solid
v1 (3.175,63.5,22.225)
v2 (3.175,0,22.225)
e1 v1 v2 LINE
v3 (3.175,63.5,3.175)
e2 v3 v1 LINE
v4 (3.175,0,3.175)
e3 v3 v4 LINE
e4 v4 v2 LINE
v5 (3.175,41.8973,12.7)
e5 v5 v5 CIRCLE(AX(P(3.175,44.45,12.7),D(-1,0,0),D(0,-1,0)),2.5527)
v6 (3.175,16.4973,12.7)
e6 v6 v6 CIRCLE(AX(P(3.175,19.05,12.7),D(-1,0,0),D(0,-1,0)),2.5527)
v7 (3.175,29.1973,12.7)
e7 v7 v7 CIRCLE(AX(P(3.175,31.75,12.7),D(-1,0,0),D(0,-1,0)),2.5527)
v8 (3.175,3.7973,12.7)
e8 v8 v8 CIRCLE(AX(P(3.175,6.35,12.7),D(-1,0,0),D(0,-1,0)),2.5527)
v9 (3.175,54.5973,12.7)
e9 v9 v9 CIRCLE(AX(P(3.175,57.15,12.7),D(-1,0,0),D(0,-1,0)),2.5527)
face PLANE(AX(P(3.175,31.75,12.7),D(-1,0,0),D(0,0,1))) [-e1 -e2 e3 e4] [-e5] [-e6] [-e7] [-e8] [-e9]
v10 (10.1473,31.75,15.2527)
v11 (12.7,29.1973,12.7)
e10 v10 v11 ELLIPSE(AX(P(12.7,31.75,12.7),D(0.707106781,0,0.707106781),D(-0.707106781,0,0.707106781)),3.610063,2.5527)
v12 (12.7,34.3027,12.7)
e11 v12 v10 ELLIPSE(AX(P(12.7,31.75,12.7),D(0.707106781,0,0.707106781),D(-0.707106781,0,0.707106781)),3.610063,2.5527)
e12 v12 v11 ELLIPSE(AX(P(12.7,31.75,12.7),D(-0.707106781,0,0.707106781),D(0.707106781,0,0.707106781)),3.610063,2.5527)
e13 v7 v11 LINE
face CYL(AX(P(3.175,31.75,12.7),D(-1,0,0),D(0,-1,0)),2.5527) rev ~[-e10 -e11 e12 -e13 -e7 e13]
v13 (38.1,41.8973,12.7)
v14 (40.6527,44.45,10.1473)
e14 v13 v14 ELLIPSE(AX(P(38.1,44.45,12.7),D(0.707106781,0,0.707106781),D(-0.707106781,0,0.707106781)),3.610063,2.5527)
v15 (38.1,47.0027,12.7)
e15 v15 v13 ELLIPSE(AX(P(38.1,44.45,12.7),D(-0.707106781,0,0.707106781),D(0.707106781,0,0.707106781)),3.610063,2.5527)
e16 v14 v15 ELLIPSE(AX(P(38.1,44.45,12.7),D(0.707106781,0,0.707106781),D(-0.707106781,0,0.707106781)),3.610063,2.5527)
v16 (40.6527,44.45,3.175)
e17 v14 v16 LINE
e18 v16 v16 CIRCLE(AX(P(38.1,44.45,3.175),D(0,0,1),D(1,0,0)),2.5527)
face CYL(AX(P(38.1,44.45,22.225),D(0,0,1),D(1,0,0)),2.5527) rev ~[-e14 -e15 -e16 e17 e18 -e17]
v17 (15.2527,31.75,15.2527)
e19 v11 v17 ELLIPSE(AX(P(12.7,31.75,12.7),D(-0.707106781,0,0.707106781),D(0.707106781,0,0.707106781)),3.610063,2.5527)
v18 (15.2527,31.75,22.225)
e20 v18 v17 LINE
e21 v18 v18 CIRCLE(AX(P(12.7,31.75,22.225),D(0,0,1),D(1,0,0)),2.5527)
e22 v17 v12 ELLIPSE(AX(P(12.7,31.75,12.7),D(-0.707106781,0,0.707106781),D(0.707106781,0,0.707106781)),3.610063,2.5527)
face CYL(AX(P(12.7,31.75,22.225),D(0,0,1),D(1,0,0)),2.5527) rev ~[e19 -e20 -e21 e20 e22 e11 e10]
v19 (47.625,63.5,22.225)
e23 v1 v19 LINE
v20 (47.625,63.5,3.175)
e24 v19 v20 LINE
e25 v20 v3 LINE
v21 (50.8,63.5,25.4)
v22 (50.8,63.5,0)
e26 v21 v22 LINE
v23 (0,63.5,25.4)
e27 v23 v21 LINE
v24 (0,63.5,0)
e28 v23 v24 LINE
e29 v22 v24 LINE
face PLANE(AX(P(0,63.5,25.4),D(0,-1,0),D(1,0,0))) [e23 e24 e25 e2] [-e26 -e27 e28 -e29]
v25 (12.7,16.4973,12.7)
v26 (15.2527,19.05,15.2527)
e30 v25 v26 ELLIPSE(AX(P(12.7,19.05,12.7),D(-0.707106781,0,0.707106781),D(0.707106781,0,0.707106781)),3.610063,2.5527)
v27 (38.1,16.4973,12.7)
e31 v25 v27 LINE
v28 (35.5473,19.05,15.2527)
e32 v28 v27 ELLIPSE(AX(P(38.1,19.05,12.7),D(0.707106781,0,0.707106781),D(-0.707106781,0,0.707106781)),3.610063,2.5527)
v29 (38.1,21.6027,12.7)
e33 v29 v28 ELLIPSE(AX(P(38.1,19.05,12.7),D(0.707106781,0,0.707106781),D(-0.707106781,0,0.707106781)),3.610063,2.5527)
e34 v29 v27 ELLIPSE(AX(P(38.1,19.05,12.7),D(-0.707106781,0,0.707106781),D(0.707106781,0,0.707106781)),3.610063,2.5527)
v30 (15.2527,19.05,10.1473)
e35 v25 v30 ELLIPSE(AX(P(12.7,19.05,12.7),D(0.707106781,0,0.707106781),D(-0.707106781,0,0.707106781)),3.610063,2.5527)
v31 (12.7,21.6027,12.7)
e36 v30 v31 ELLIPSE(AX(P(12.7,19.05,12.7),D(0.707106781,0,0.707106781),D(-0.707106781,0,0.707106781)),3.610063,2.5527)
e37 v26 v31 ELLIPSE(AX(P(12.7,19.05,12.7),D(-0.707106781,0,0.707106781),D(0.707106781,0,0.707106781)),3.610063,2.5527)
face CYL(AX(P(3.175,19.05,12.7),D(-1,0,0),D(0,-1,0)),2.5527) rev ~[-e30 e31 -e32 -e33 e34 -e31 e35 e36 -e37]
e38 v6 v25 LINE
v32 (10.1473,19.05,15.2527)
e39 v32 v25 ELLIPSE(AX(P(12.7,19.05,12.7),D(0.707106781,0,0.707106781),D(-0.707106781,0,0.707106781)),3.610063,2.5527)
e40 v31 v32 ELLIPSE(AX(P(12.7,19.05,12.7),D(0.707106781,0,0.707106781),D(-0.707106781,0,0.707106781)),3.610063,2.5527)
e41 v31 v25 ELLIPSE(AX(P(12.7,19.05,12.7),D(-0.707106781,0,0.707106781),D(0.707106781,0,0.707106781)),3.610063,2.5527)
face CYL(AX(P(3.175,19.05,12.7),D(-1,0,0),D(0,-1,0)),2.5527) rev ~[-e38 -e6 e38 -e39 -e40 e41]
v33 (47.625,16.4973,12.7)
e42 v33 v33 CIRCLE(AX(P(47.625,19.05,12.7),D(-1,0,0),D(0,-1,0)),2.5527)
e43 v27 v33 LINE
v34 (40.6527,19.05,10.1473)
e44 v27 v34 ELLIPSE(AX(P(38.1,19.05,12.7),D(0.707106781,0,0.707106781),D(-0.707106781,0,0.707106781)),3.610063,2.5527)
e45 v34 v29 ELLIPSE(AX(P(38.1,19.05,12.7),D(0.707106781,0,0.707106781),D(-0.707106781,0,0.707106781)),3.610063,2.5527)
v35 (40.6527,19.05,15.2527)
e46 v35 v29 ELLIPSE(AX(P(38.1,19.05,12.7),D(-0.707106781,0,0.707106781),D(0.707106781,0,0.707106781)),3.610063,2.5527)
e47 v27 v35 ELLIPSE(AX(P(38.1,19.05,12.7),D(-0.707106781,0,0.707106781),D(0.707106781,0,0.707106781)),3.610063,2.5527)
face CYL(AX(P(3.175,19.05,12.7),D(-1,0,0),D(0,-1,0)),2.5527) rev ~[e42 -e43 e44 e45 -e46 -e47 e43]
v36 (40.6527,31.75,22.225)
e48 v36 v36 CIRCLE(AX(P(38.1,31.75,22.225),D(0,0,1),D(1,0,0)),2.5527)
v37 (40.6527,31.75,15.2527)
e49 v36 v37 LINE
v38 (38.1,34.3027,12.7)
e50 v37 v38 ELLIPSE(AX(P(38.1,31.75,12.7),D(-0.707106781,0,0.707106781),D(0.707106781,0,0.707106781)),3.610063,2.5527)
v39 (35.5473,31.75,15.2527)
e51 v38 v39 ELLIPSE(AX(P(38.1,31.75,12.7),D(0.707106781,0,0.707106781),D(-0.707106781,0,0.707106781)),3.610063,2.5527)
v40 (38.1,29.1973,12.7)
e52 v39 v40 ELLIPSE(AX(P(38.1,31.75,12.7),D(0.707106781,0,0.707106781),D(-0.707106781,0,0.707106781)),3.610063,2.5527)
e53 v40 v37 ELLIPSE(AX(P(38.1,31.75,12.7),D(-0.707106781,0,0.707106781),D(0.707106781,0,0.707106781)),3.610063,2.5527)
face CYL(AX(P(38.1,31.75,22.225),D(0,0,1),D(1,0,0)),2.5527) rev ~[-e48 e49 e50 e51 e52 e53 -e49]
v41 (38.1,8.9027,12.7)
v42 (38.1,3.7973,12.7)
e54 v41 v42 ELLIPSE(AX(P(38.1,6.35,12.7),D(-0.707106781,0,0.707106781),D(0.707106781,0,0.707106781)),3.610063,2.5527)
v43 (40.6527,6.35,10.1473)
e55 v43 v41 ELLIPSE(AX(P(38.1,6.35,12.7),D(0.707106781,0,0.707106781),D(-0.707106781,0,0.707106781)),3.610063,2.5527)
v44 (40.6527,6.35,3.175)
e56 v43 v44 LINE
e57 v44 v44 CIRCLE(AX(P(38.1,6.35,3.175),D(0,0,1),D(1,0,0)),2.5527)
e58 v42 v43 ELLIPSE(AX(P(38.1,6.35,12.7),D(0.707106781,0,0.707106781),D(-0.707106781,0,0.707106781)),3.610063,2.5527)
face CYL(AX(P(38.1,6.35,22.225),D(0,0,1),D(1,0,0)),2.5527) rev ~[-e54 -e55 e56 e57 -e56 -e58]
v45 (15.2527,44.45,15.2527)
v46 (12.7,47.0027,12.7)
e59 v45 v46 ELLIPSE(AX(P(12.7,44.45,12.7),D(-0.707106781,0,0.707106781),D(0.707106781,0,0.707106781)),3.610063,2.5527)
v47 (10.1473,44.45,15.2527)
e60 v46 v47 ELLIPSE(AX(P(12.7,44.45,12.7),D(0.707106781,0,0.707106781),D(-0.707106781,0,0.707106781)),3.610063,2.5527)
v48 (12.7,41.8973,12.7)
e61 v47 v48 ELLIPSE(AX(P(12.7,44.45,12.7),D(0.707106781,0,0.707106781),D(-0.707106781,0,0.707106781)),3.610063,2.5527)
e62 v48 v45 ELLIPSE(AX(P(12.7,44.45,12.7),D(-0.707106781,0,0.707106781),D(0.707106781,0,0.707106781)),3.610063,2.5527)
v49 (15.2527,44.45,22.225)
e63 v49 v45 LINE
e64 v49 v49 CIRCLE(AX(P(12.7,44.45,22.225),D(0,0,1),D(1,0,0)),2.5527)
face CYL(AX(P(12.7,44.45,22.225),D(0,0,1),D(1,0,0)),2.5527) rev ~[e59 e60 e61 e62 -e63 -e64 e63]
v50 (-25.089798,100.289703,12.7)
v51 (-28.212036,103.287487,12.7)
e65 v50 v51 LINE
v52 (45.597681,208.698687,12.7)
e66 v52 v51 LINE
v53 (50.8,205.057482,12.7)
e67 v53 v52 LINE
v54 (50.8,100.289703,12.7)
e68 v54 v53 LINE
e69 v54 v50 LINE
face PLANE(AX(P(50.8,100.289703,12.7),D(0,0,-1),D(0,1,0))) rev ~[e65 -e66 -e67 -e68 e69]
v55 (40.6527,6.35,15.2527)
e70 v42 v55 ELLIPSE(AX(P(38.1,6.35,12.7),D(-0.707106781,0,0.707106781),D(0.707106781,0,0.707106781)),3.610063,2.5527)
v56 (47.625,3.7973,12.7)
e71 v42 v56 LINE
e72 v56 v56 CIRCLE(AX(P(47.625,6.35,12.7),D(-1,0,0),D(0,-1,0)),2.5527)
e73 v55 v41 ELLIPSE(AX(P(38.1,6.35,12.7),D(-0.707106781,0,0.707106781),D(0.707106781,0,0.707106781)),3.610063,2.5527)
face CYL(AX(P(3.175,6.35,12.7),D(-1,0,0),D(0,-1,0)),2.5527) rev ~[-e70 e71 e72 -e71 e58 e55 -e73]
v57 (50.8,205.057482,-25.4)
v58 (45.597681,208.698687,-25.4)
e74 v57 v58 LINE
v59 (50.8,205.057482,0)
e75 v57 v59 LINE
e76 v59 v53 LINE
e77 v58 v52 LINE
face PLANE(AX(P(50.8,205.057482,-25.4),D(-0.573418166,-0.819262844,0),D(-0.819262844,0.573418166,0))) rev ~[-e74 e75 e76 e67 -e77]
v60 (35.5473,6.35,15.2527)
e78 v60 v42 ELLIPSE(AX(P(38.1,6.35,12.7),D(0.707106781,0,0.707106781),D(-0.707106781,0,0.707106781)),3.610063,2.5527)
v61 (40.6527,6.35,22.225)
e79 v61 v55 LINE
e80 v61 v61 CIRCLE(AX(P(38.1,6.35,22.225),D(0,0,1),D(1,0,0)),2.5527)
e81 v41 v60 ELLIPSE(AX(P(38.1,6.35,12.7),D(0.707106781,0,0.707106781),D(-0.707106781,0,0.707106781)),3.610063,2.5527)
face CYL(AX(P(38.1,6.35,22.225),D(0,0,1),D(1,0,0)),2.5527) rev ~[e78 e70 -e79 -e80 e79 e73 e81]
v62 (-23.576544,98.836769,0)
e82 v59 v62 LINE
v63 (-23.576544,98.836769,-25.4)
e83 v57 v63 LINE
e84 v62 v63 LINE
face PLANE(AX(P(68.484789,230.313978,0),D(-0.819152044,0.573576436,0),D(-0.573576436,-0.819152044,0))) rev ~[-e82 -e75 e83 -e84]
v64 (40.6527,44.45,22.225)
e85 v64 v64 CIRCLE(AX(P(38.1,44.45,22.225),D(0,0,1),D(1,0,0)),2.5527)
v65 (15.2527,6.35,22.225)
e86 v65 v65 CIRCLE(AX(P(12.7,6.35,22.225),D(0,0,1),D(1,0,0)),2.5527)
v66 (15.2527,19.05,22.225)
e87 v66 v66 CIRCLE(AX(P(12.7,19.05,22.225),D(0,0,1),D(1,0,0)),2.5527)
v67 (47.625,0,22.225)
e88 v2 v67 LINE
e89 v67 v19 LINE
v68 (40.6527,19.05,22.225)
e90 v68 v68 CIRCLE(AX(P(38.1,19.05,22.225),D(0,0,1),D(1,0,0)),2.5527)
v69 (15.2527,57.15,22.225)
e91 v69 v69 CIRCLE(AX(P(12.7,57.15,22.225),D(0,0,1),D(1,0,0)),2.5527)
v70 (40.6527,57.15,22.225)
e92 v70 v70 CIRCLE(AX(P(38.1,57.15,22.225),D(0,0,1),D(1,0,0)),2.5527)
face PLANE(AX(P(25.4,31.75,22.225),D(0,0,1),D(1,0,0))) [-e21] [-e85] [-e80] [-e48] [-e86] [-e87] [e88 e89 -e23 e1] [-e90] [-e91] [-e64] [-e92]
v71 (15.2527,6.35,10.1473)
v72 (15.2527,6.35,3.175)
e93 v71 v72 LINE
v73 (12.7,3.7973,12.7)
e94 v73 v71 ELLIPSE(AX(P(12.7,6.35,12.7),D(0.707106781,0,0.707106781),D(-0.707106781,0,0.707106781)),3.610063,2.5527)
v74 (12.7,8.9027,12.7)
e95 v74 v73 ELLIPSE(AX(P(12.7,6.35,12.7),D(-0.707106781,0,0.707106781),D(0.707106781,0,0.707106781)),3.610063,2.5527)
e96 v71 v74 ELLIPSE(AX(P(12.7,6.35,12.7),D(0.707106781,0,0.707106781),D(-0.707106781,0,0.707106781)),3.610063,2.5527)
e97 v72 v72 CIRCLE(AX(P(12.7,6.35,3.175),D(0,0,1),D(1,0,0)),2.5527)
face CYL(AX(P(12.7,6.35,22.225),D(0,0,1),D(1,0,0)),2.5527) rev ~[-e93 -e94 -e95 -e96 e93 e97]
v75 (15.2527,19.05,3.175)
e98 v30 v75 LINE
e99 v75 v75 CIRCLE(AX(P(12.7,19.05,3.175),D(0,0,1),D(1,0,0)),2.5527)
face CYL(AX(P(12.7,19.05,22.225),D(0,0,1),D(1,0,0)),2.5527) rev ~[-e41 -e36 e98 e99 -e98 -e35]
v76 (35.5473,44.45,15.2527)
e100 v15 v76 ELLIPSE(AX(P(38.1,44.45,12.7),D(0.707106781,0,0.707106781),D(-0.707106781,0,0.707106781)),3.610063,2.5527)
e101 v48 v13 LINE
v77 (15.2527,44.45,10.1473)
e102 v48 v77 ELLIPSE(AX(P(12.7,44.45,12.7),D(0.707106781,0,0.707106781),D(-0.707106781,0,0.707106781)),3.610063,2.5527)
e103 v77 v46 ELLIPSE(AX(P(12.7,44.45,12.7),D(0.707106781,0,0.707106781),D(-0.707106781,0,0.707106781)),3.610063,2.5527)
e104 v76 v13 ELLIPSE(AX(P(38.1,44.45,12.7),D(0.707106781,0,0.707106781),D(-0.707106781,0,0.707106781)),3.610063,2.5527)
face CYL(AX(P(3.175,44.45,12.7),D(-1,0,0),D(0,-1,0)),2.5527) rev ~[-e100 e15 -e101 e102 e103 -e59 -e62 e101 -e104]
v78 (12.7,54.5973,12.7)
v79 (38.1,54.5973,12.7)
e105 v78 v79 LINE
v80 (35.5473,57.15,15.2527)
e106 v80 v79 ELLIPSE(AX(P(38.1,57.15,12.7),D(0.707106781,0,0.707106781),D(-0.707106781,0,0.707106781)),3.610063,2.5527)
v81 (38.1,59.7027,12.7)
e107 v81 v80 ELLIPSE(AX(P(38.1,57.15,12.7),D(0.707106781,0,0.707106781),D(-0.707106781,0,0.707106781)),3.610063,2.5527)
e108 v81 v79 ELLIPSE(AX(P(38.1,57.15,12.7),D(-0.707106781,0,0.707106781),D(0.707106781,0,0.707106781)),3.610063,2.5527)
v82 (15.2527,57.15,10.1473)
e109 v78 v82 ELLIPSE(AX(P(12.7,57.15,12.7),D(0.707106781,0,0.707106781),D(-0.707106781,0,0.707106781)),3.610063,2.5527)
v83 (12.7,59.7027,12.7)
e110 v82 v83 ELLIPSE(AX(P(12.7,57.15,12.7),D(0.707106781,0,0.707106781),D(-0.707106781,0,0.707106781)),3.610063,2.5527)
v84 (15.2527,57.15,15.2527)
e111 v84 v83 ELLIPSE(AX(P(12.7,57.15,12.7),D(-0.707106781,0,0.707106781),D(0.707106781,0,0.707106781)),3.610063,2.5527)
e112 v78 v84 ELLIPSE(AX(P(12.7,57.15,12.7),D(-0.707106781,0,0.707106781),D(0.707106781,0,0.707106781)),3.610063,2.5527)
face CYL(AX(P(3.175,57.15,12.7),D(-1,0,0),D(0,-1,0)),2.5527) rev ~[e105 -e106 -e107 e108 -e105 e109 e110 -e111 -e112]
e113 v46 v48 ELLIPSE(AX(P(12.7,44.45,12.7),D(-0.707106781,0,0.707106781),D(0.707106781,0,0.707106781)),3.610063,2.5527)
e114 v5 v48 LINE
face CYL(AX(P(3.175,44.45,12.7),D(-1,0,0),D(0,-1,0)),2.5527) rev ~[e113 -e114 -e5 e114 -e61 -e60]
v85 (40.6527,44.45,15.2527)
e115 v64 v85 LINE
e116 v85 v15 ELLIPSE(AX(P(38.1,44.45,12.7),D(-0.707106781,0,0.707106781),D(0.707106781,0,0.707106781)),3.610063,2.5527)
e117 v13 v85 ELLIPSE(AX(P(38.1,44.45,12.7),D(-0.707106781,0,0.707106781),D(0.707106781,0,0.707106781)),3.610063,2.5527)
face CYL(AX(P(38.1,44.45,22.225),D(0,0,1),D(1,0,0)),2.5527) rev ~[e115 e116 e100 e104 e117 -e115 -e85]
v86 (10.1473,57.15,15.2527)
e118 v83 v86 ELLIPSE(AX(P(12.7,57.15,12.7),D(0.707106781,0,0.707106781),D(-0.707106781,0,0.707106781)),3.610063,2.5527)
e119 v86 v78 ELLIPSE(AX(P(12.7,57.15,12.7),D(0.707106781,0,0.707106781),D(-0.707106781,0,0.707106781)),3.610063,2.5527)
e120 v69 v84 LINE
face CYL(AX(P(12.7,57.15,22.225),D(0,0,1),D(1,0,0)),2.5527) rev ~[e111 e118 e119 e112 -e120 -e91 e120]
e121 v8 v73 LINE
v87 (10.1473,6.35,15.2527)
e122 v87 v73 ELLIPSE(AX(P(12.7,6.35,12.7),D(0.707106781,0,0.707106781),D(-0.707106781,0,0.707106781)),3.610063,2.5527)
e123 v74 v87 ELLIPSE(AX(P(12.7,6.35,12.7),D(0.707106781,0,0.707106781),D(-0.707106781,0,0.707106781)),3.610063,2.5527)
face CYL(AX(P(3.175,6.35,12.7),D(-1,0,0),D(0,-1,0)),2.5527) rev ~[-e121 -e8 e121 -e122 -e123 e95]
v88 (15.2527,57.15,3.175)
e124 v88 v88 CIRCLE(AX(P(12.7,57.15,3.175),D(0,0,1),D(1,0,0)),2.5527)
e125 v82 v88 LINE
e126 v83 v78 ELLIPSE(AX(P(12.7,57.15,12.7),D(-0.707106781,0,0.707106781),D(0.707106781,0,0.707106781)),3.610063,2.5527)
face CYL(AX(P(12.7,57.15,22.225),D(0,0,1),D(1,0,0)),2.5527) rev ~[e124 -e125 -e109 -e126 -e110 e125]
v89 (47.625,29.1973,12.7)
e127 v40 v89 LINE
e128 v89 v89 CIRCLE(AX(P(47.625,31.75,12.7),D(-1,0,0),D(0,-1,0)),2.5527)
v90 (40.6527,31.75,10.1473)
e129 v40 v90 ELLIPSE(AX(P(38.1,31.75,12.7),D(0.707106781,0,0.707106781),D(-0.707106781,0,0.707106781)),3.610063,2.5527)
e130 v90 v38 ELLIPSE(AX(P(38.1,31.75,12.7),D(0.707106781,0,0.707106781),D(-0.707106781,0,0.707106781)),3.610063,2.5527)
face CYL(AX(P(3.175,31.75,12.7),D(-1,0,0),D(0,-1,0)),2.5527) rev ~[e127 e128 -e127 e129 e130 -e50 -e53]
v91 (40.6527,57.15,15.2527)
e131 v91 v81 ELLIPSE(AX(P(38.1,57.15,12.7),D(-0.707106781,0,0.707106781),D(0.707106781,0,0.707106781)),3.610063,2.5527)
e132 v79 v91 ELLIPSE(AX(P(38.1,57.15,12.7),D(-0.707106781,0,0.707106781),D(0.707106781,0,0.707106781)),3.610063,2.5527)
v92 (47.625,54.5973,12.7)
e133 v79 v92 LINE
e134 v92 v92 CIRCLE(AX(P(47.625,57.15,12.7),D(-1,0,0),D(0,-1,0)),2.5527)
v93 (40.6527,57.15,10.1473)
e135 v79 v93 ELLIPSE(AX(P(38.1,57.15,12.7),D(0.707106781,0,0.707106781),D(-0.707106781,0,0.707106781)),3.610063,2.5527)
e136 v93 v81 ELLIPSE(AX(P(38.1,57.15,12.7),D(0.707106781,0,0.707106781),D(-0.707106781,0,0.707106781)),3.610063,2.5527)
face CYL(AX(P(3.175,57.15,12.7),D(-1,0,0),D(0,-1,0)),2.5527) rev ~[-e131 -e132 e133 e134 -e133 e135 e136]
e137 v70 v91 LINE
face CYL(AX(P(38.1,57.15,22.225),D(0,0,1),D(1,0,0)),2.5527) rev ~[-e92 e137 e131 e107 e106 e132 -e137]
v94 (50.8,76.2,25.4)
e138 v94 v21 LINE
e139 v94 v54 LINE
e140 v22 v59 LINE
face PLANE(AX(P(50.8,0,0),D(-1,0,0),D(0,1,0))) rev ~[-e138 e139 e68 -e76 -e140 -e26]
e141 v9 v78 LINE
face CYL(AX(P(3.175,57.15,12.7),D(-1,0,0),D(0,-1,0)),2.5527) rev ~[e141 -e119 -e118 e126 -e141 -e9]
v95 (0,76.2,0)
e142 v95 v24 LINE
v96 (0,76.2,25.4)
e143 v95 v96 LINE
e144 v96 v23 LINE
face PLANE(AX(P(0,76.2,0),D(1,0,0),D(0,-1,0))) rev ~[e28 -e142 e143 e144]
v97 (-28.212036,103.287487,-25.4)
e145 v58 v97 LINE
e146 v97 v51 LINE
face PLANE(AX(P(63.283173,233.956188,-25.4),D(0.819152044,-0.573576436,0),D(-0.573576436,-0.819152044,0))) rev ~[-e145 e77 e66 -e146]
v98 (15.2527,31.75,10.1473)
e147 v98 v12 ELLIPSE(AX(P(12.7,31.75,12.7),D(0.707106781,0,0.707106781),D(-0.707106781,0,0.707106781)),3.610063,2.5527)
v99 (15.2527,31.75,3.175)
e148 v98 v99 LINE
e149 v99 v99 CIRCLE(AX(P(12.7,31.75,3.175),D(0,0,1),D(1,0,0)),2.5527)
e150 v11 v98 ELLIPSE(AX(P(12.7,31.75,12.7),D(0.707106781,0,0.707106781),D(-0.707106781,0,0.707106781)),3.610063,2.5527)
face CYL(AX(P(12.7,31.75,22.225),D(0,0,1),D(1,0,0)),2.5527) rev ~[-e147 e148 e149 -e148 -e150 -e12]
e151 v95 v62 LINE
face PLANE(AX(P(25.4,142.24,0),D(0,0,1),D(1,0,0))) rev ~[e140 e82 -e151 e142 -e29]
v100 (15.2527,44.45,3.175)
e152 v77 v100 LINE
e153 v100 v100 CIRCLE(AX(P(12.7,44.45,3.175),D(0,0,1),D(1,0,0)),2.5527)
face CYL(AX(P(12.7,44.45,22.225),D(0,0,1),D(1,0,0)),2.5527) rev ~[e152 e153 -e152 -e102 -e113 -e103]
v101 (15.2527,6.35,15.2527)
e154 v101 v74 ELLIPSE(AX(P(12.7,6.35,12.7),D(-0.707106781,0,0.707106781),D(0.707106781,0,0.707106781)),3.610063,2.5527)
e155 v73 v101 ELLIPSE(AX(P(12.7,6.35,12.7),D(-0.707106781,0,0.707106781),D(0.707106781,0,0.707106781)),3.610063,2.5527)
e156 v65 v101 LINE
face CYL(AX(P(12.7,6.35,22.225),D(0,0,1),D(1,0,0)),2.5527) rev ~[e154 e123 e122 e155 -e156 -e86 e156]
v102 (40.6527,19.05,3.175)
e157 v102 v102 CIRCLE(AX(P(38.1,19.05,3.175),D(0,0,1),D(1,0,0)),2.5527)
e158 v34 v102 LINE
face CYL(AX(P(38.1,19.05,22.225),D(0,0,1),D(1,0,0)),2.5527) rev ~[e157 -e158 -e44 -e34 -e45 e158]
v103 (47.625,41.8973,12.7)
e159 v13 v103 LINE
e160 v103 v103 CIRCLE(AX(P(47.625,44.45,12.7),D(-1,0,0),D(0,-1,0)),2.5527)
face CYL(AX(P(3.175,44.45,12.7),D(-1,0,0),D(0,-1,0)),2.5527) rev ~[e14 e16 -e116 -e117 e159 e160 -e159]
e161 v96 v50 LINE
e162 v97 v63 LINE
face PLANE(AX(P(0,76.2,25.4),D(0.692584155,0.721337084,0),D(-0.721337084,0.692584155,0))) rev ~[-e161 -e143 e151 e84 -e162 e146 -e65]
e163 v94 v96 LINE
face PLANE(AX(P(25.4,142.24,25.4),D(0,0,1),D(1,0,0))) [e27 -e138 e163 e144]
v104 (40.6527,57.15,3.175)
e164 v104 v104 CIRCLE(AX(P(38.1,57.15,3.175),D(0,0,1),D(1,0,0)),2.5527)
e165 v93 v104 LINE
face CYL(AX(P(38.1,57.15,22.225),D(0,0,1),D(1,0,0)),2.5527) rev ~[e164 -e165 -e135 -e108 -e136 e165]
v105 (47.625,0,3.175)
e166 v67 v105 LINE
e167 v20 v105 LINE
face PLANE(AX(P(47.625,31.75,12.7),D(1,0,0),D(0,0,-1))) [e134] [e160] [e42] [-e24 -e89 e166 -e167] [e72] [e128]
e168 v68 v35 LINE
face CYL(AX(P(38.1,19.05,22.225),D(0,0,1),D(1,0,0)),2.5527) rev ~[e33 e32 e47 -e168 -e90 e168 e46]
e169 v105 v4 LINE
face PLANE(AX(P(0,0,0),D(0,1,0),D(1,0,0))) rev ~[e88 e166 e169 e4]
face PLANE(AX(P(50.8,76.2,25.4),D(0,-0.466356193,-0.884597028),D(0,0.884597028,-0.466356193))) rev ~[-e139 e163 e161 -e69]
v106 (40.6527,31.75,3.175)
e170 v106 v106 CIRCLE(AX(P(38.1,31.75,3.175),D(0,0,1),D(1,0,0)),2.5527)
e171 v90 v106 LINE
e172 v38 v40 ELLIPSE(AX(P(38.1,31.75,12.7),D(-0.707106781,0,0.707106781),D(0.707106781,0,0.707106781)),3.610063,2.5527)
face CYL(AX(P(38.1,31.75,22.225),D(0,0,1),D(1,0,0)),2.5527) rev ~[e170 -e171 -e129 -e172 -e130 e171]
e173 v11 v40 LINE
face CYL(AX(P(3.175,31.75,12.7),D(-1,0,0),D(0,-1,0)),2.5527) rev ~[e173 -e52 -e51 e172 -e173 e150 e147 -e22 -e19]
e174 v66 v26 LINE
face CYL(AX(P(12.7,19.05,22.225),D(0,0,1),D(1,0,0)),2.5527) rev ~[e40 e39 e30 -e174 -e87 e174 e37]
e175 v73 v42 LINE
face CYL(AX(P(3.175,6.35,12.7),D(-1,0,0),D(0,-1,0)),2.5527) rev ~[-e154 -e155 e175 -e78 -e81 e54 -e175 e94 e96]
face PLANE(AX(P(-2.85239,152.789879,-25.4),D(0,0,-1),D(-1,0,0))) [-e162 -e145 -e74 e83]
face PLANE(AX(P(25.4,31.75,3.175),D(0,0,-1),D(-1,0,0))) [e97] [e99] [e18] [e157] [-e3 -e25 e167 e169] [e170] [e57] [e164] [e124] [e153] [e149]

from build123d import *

# Parameters (mm, degrees)
BOSS_EXTRUDE1_DEPTH = 25.4
SKETCH3_W           = 50.8
SKETCH3_H           = 63.5
CUT_EXTRUDE1_DEPTH  = 3.175
SKETCH4_W           = 25.4
SKETCH4_H           = 63.5
CUT_EXTRUDE2_DEPTH  = 3.175
SKETCH5_W           = 50.8
SKETCH5_H           = 63.5
CUT_EXTRUDE3_DEPTH  = 3.175
SKETCH6_W           = 25.4
SKETCH6_H           = 63.5
CUT_EXTRUDE4_DEPTH  = 3.175
SKETCH7_W           = 101.6
SKETCH7_H           = 177.8
CUT_EXTRUDE5_DEPTH  = 298.299377732
CUT_EXTRUDE7_DEPTH  = 275.74300719
CUT_EXTRUDE6_DEPTH  = 275.74300719
CUT_EXTRUDE8_DEPTH  = 271.614582269
SKETCH11_R          = 2.5527
CUT_EXTRUDE9_DEPTH  = 259.040032264
SKETCH12_R          = 2.5527
CUT_EXTRUDE10_DEPTH = 260.254504648
BOSS_EXTRUDE2_DEPTH = 25.4
CUT_EXTRUDE11_DEPTH = 263.236499242
CUT_EXTRUDE12_DEPTH = 263.052184929
CUT_EXTRUDE13_DEPTH = 266.160848634
CUT_EXTRUDE14_DEPTH = 261.679987062
CUT_EXTRUDE15_DEPTH = 250.010650693


with BuildPart() as part:
    # Sketch1 → Boss-Extrude1 (new body)
    with BuildSketch(Plane.XY):
        Polygon((50.8, 76.2), (152.4, 76.2), (152.4, 254), (-101.6, 254), (-101.6, 76.2), (0, 76.2), (0, 0), (50.8, 0), align=None)
    extrude(amount=BOSS_EXTRUDE1_DEPTH)

    # Sketch3 → Cut-Extrude1 (cut)
    with BuildSketch(Plane.XY.offset(25.4)):
        with Locations((25.4, 31.75)):
            Rectangle(SKETCH3_W, SKETCH3_H)
    extrude(amount=-CUT_EXTRUDE1_DEPTH, mode=Mode.SUBTRACT)

    # Sketch4 → Cut-Extrude2 (cut)
    with BuildSketch(Plane.ZY):
        with Locations((12.7, 31.75)):
            Rectangle(SKETCH4_W, SKETCH4_H)
    extrude(amount=-CUT_EXTRUDE2_DEPTH, mode=Mode.SUBTRACT)

    # Sketch5 → Cut-Extrude3 (cut)
    with BuildSketch(Plane(origin=(0, 0, 0), x_dir=(-1, 0, 0), z_dir=(0, 0, -1))):
        with Locations((-25.4, 31.75)):
            Rectangle(SKETCH5_W, SKETCH5_H)
    extrude(amount=-CUT_EXTRUDE3_DEPTH, mode=Mode.SUBTRACT)

    # Sketch6 → Cut-Extrude4 (cut)
    with BuildSketch(Plane(origin=(50.8, 0, 0), x_dir=(0, 0, -1), z_dir=(1, 0, 0))):
        with Locations((-12.7, 31.75)):
            Rectangle(SKETCH6_W, SKETCH6_H)
    extrude(amount=-CUT_EXTRUDE4_DEPTH, mode=Mode.SUBTRACT)

    # Sketch7 → Cut-Extrude5 (cut, through all)
    with BuildSketch(Plane.XY.offset(25.4)):
        with Locations((101.6, 165.1)):
            Rectangle(SKETCH7_W, SKETCH7_H)
    extrude(amount=-CUT_EXTRUDE5_DEPTH, mode=Mode.SUBTRACT)

    # Sketch9 → Cut-Extrude7 (cut, through all)
    with BuildSketch(Plane.XY.offset(25.4)):
        Polygon((34.65764308, 254), (50.8, 254), (50.8, 242.697), align=None)
    extrude(amount=-CUT_EXTRUDE7_DEPTH, mode=Mode.SUBTRACT)

    # Sketch8 → Cut-Extrude6 (cut, through all)
    with BuildSketch(Plane.XY.offset(25.4)):
        Polygon((34.65764308, 254), (-101.6, 59.403918632), (-101.6, 254), align=None)
    extrude(amount=-CUT_EXTRUDE6_DEPTH, mode=Mode.SUBTRACT)

    # Sketch10 → Cut-Extrude8 (cut, through all)
    with BuildSketch(Plane.XY.offset(25.4)):
        Polygon((34.65764308, 254), (45.59768076, 246.339703148), (-84.029822158, 61.212443237), (-94.969859838, 68.872740089), align=None)
    extrude(amount=-CUT_EXTRUDE8_DEPTH, mode=Mode.SUBTRACT)

    # Sketch11 → Cut-Extrude9 (cut, through all)
    with BuildSketch(Plane.XY.offset(22.225)):
        with Locations((12.7, 57.15)):
            Circle(SKETCH11_R)
        with Locations((12.7, 44.45)):
            Circle(SKETCH11_R)
        with Locations((12.7, 31.75)):
            Circle(SKETCH11_R)
        with Locations((12.7, 19.05)):
            Circle(SKETCH11_R)
        with Locations((12.7, 6.35)):
            Circle(SKETCH11_R)
        with Locations((38.1, 44.45)):
            Circle(SKETCH11_R)
        with Locations((38.1, 31.75)):
            Circle(SKETCH11_R)
        with Locations((38.1, 19.05)):
            Circle(SKETCH11_R)
        with Locations((38.1, 6.35)):
            Circle(SKETCH11_R)
        with Locations((38.1, 57.15)):
            Circle(SKETCH11_R)
    extrude(amount=-CUT_EXTRUDE9_DEPTH, mode=Mode.SUBTRACT)

    # Sketch12 → Cut-Extrude10 (cut, through all)
    with BuildSketch(Plane.ZY.offset(-3.175)):
        with Locations(Location((12.7, 57.15, 0), (0, 0, 270))):
            Circle(SKETCH12_R)
        with Locations(Location((12.7, 44.45, 0), (0, 0, 270))):
            Circle(SKETCH12_R)
        with Locations(Location((12.7, 31.75, 0), (0, 0, 270))):
            Circle(SKETCH12_R)
        with Locations(Location((12.7, 19.05, 0), (0, 0, 270))):
            Circle(SKETCH12_R)
        with Locations(Location((12.7, 6.35, 0), (0, 0, 270))):
            Circle(SKETCH12_R)
    extrude(amount=-CUT_EXTRUDE10_DEPTH, mode=Mode.SUBTRACT)

    # Sketch17 → Boss-Extrude2 (add)
    with BuildSketch(Plane(origin=(0, 0, 0), x_dir=(-1, 0, 0), z_dir=(0, 0, -1))):
        Polygon((-45.59768076, 246.339703148), (-68.484788877, 230.313977516), (51.302461146, 59.240055162), (74.189569264, 75.265780794), align=None)
    extrude(amount=BOSS_EXTRUDE2_DEPTH)

    # Sketch18 → Cut-Extrude11 (cut, through all)
    with BuildSketch(Plane(origin=(0, 0, -25.4), x_dir=(-1, 0, 0), z_dir=(0, 0, -1))):
        Polygon((39.426979923, 76.2), (73.535421933, 76.2), (74.189569264, 75.265780794), (51.302461146, 59.240055162), align=None)
    extrude(amount=-CUT_EXTRUDE11_DEPTH, mode=Mode.SUBTRACT)

    # Sketch19 → Cut-Extrude12 (cut, through all)
    with BuildSketch(Plane.XY.offset(25.4)):
        Polygon((0, 76.2), (-43.972708631, 118.419930077), (-73.535421933, 76.2), align=None)
    extrude(amount=-CUT_EXTRUDE12_DEPTH, mode=Mode.SUBTRACT)

    # Sketch20 → Cut-Extrude13 (cut, through all)
    with BuildSketch(Plane(origin=(50.8, 0, 0), x_dir=(0, 0, -1), z_dir=(1, 0, 0))):
        Polygon((-25.4, 76.2), (-12.7, 100.289703148), (-12.7, 246.339703148), (-25.4, 246.339703148), align=None)
    extrude(amount=-CUT_EXTRUDE13_DEPTH, mode=Mode.SUBTRACT)

    # Sketch21 → Cut-Extrude14 (cut, through all)
    with BuildSketch(Plane(origin=(0, 0, -25.4), x_dir=(-1, 0, 0), z_dir=(0, 0, -1))):
        Polygon((-45.59768076, 246.339703148), (-63.283173396, 233.956187887), (28.212035852, 103.287487173), (45.897528488, 115.671002434), align=None)
    extrude(amount=-CUT_EXTRUDE14_DEPTH, mode=Mode.SUBTRACT)

    # Sketch22 → Cut-Extrude15 (cut, through all)
    with BuildSketch(Plane(origin=(0, 0, -25.4), x_dir=(-1, 0, 0), z_dir=(0, 0, -1))):
        Polygon((-50.8, 205.057481532), (-45.597680844, 208.698686951), (-63.283173396, 233.956187887), (-68.484788877, 230.313977516), align=None)
    extrude(amount=-CUT_EXTRUDE15_DEPTH, mode=Mode.SUBTRACT)


solid = part.part
